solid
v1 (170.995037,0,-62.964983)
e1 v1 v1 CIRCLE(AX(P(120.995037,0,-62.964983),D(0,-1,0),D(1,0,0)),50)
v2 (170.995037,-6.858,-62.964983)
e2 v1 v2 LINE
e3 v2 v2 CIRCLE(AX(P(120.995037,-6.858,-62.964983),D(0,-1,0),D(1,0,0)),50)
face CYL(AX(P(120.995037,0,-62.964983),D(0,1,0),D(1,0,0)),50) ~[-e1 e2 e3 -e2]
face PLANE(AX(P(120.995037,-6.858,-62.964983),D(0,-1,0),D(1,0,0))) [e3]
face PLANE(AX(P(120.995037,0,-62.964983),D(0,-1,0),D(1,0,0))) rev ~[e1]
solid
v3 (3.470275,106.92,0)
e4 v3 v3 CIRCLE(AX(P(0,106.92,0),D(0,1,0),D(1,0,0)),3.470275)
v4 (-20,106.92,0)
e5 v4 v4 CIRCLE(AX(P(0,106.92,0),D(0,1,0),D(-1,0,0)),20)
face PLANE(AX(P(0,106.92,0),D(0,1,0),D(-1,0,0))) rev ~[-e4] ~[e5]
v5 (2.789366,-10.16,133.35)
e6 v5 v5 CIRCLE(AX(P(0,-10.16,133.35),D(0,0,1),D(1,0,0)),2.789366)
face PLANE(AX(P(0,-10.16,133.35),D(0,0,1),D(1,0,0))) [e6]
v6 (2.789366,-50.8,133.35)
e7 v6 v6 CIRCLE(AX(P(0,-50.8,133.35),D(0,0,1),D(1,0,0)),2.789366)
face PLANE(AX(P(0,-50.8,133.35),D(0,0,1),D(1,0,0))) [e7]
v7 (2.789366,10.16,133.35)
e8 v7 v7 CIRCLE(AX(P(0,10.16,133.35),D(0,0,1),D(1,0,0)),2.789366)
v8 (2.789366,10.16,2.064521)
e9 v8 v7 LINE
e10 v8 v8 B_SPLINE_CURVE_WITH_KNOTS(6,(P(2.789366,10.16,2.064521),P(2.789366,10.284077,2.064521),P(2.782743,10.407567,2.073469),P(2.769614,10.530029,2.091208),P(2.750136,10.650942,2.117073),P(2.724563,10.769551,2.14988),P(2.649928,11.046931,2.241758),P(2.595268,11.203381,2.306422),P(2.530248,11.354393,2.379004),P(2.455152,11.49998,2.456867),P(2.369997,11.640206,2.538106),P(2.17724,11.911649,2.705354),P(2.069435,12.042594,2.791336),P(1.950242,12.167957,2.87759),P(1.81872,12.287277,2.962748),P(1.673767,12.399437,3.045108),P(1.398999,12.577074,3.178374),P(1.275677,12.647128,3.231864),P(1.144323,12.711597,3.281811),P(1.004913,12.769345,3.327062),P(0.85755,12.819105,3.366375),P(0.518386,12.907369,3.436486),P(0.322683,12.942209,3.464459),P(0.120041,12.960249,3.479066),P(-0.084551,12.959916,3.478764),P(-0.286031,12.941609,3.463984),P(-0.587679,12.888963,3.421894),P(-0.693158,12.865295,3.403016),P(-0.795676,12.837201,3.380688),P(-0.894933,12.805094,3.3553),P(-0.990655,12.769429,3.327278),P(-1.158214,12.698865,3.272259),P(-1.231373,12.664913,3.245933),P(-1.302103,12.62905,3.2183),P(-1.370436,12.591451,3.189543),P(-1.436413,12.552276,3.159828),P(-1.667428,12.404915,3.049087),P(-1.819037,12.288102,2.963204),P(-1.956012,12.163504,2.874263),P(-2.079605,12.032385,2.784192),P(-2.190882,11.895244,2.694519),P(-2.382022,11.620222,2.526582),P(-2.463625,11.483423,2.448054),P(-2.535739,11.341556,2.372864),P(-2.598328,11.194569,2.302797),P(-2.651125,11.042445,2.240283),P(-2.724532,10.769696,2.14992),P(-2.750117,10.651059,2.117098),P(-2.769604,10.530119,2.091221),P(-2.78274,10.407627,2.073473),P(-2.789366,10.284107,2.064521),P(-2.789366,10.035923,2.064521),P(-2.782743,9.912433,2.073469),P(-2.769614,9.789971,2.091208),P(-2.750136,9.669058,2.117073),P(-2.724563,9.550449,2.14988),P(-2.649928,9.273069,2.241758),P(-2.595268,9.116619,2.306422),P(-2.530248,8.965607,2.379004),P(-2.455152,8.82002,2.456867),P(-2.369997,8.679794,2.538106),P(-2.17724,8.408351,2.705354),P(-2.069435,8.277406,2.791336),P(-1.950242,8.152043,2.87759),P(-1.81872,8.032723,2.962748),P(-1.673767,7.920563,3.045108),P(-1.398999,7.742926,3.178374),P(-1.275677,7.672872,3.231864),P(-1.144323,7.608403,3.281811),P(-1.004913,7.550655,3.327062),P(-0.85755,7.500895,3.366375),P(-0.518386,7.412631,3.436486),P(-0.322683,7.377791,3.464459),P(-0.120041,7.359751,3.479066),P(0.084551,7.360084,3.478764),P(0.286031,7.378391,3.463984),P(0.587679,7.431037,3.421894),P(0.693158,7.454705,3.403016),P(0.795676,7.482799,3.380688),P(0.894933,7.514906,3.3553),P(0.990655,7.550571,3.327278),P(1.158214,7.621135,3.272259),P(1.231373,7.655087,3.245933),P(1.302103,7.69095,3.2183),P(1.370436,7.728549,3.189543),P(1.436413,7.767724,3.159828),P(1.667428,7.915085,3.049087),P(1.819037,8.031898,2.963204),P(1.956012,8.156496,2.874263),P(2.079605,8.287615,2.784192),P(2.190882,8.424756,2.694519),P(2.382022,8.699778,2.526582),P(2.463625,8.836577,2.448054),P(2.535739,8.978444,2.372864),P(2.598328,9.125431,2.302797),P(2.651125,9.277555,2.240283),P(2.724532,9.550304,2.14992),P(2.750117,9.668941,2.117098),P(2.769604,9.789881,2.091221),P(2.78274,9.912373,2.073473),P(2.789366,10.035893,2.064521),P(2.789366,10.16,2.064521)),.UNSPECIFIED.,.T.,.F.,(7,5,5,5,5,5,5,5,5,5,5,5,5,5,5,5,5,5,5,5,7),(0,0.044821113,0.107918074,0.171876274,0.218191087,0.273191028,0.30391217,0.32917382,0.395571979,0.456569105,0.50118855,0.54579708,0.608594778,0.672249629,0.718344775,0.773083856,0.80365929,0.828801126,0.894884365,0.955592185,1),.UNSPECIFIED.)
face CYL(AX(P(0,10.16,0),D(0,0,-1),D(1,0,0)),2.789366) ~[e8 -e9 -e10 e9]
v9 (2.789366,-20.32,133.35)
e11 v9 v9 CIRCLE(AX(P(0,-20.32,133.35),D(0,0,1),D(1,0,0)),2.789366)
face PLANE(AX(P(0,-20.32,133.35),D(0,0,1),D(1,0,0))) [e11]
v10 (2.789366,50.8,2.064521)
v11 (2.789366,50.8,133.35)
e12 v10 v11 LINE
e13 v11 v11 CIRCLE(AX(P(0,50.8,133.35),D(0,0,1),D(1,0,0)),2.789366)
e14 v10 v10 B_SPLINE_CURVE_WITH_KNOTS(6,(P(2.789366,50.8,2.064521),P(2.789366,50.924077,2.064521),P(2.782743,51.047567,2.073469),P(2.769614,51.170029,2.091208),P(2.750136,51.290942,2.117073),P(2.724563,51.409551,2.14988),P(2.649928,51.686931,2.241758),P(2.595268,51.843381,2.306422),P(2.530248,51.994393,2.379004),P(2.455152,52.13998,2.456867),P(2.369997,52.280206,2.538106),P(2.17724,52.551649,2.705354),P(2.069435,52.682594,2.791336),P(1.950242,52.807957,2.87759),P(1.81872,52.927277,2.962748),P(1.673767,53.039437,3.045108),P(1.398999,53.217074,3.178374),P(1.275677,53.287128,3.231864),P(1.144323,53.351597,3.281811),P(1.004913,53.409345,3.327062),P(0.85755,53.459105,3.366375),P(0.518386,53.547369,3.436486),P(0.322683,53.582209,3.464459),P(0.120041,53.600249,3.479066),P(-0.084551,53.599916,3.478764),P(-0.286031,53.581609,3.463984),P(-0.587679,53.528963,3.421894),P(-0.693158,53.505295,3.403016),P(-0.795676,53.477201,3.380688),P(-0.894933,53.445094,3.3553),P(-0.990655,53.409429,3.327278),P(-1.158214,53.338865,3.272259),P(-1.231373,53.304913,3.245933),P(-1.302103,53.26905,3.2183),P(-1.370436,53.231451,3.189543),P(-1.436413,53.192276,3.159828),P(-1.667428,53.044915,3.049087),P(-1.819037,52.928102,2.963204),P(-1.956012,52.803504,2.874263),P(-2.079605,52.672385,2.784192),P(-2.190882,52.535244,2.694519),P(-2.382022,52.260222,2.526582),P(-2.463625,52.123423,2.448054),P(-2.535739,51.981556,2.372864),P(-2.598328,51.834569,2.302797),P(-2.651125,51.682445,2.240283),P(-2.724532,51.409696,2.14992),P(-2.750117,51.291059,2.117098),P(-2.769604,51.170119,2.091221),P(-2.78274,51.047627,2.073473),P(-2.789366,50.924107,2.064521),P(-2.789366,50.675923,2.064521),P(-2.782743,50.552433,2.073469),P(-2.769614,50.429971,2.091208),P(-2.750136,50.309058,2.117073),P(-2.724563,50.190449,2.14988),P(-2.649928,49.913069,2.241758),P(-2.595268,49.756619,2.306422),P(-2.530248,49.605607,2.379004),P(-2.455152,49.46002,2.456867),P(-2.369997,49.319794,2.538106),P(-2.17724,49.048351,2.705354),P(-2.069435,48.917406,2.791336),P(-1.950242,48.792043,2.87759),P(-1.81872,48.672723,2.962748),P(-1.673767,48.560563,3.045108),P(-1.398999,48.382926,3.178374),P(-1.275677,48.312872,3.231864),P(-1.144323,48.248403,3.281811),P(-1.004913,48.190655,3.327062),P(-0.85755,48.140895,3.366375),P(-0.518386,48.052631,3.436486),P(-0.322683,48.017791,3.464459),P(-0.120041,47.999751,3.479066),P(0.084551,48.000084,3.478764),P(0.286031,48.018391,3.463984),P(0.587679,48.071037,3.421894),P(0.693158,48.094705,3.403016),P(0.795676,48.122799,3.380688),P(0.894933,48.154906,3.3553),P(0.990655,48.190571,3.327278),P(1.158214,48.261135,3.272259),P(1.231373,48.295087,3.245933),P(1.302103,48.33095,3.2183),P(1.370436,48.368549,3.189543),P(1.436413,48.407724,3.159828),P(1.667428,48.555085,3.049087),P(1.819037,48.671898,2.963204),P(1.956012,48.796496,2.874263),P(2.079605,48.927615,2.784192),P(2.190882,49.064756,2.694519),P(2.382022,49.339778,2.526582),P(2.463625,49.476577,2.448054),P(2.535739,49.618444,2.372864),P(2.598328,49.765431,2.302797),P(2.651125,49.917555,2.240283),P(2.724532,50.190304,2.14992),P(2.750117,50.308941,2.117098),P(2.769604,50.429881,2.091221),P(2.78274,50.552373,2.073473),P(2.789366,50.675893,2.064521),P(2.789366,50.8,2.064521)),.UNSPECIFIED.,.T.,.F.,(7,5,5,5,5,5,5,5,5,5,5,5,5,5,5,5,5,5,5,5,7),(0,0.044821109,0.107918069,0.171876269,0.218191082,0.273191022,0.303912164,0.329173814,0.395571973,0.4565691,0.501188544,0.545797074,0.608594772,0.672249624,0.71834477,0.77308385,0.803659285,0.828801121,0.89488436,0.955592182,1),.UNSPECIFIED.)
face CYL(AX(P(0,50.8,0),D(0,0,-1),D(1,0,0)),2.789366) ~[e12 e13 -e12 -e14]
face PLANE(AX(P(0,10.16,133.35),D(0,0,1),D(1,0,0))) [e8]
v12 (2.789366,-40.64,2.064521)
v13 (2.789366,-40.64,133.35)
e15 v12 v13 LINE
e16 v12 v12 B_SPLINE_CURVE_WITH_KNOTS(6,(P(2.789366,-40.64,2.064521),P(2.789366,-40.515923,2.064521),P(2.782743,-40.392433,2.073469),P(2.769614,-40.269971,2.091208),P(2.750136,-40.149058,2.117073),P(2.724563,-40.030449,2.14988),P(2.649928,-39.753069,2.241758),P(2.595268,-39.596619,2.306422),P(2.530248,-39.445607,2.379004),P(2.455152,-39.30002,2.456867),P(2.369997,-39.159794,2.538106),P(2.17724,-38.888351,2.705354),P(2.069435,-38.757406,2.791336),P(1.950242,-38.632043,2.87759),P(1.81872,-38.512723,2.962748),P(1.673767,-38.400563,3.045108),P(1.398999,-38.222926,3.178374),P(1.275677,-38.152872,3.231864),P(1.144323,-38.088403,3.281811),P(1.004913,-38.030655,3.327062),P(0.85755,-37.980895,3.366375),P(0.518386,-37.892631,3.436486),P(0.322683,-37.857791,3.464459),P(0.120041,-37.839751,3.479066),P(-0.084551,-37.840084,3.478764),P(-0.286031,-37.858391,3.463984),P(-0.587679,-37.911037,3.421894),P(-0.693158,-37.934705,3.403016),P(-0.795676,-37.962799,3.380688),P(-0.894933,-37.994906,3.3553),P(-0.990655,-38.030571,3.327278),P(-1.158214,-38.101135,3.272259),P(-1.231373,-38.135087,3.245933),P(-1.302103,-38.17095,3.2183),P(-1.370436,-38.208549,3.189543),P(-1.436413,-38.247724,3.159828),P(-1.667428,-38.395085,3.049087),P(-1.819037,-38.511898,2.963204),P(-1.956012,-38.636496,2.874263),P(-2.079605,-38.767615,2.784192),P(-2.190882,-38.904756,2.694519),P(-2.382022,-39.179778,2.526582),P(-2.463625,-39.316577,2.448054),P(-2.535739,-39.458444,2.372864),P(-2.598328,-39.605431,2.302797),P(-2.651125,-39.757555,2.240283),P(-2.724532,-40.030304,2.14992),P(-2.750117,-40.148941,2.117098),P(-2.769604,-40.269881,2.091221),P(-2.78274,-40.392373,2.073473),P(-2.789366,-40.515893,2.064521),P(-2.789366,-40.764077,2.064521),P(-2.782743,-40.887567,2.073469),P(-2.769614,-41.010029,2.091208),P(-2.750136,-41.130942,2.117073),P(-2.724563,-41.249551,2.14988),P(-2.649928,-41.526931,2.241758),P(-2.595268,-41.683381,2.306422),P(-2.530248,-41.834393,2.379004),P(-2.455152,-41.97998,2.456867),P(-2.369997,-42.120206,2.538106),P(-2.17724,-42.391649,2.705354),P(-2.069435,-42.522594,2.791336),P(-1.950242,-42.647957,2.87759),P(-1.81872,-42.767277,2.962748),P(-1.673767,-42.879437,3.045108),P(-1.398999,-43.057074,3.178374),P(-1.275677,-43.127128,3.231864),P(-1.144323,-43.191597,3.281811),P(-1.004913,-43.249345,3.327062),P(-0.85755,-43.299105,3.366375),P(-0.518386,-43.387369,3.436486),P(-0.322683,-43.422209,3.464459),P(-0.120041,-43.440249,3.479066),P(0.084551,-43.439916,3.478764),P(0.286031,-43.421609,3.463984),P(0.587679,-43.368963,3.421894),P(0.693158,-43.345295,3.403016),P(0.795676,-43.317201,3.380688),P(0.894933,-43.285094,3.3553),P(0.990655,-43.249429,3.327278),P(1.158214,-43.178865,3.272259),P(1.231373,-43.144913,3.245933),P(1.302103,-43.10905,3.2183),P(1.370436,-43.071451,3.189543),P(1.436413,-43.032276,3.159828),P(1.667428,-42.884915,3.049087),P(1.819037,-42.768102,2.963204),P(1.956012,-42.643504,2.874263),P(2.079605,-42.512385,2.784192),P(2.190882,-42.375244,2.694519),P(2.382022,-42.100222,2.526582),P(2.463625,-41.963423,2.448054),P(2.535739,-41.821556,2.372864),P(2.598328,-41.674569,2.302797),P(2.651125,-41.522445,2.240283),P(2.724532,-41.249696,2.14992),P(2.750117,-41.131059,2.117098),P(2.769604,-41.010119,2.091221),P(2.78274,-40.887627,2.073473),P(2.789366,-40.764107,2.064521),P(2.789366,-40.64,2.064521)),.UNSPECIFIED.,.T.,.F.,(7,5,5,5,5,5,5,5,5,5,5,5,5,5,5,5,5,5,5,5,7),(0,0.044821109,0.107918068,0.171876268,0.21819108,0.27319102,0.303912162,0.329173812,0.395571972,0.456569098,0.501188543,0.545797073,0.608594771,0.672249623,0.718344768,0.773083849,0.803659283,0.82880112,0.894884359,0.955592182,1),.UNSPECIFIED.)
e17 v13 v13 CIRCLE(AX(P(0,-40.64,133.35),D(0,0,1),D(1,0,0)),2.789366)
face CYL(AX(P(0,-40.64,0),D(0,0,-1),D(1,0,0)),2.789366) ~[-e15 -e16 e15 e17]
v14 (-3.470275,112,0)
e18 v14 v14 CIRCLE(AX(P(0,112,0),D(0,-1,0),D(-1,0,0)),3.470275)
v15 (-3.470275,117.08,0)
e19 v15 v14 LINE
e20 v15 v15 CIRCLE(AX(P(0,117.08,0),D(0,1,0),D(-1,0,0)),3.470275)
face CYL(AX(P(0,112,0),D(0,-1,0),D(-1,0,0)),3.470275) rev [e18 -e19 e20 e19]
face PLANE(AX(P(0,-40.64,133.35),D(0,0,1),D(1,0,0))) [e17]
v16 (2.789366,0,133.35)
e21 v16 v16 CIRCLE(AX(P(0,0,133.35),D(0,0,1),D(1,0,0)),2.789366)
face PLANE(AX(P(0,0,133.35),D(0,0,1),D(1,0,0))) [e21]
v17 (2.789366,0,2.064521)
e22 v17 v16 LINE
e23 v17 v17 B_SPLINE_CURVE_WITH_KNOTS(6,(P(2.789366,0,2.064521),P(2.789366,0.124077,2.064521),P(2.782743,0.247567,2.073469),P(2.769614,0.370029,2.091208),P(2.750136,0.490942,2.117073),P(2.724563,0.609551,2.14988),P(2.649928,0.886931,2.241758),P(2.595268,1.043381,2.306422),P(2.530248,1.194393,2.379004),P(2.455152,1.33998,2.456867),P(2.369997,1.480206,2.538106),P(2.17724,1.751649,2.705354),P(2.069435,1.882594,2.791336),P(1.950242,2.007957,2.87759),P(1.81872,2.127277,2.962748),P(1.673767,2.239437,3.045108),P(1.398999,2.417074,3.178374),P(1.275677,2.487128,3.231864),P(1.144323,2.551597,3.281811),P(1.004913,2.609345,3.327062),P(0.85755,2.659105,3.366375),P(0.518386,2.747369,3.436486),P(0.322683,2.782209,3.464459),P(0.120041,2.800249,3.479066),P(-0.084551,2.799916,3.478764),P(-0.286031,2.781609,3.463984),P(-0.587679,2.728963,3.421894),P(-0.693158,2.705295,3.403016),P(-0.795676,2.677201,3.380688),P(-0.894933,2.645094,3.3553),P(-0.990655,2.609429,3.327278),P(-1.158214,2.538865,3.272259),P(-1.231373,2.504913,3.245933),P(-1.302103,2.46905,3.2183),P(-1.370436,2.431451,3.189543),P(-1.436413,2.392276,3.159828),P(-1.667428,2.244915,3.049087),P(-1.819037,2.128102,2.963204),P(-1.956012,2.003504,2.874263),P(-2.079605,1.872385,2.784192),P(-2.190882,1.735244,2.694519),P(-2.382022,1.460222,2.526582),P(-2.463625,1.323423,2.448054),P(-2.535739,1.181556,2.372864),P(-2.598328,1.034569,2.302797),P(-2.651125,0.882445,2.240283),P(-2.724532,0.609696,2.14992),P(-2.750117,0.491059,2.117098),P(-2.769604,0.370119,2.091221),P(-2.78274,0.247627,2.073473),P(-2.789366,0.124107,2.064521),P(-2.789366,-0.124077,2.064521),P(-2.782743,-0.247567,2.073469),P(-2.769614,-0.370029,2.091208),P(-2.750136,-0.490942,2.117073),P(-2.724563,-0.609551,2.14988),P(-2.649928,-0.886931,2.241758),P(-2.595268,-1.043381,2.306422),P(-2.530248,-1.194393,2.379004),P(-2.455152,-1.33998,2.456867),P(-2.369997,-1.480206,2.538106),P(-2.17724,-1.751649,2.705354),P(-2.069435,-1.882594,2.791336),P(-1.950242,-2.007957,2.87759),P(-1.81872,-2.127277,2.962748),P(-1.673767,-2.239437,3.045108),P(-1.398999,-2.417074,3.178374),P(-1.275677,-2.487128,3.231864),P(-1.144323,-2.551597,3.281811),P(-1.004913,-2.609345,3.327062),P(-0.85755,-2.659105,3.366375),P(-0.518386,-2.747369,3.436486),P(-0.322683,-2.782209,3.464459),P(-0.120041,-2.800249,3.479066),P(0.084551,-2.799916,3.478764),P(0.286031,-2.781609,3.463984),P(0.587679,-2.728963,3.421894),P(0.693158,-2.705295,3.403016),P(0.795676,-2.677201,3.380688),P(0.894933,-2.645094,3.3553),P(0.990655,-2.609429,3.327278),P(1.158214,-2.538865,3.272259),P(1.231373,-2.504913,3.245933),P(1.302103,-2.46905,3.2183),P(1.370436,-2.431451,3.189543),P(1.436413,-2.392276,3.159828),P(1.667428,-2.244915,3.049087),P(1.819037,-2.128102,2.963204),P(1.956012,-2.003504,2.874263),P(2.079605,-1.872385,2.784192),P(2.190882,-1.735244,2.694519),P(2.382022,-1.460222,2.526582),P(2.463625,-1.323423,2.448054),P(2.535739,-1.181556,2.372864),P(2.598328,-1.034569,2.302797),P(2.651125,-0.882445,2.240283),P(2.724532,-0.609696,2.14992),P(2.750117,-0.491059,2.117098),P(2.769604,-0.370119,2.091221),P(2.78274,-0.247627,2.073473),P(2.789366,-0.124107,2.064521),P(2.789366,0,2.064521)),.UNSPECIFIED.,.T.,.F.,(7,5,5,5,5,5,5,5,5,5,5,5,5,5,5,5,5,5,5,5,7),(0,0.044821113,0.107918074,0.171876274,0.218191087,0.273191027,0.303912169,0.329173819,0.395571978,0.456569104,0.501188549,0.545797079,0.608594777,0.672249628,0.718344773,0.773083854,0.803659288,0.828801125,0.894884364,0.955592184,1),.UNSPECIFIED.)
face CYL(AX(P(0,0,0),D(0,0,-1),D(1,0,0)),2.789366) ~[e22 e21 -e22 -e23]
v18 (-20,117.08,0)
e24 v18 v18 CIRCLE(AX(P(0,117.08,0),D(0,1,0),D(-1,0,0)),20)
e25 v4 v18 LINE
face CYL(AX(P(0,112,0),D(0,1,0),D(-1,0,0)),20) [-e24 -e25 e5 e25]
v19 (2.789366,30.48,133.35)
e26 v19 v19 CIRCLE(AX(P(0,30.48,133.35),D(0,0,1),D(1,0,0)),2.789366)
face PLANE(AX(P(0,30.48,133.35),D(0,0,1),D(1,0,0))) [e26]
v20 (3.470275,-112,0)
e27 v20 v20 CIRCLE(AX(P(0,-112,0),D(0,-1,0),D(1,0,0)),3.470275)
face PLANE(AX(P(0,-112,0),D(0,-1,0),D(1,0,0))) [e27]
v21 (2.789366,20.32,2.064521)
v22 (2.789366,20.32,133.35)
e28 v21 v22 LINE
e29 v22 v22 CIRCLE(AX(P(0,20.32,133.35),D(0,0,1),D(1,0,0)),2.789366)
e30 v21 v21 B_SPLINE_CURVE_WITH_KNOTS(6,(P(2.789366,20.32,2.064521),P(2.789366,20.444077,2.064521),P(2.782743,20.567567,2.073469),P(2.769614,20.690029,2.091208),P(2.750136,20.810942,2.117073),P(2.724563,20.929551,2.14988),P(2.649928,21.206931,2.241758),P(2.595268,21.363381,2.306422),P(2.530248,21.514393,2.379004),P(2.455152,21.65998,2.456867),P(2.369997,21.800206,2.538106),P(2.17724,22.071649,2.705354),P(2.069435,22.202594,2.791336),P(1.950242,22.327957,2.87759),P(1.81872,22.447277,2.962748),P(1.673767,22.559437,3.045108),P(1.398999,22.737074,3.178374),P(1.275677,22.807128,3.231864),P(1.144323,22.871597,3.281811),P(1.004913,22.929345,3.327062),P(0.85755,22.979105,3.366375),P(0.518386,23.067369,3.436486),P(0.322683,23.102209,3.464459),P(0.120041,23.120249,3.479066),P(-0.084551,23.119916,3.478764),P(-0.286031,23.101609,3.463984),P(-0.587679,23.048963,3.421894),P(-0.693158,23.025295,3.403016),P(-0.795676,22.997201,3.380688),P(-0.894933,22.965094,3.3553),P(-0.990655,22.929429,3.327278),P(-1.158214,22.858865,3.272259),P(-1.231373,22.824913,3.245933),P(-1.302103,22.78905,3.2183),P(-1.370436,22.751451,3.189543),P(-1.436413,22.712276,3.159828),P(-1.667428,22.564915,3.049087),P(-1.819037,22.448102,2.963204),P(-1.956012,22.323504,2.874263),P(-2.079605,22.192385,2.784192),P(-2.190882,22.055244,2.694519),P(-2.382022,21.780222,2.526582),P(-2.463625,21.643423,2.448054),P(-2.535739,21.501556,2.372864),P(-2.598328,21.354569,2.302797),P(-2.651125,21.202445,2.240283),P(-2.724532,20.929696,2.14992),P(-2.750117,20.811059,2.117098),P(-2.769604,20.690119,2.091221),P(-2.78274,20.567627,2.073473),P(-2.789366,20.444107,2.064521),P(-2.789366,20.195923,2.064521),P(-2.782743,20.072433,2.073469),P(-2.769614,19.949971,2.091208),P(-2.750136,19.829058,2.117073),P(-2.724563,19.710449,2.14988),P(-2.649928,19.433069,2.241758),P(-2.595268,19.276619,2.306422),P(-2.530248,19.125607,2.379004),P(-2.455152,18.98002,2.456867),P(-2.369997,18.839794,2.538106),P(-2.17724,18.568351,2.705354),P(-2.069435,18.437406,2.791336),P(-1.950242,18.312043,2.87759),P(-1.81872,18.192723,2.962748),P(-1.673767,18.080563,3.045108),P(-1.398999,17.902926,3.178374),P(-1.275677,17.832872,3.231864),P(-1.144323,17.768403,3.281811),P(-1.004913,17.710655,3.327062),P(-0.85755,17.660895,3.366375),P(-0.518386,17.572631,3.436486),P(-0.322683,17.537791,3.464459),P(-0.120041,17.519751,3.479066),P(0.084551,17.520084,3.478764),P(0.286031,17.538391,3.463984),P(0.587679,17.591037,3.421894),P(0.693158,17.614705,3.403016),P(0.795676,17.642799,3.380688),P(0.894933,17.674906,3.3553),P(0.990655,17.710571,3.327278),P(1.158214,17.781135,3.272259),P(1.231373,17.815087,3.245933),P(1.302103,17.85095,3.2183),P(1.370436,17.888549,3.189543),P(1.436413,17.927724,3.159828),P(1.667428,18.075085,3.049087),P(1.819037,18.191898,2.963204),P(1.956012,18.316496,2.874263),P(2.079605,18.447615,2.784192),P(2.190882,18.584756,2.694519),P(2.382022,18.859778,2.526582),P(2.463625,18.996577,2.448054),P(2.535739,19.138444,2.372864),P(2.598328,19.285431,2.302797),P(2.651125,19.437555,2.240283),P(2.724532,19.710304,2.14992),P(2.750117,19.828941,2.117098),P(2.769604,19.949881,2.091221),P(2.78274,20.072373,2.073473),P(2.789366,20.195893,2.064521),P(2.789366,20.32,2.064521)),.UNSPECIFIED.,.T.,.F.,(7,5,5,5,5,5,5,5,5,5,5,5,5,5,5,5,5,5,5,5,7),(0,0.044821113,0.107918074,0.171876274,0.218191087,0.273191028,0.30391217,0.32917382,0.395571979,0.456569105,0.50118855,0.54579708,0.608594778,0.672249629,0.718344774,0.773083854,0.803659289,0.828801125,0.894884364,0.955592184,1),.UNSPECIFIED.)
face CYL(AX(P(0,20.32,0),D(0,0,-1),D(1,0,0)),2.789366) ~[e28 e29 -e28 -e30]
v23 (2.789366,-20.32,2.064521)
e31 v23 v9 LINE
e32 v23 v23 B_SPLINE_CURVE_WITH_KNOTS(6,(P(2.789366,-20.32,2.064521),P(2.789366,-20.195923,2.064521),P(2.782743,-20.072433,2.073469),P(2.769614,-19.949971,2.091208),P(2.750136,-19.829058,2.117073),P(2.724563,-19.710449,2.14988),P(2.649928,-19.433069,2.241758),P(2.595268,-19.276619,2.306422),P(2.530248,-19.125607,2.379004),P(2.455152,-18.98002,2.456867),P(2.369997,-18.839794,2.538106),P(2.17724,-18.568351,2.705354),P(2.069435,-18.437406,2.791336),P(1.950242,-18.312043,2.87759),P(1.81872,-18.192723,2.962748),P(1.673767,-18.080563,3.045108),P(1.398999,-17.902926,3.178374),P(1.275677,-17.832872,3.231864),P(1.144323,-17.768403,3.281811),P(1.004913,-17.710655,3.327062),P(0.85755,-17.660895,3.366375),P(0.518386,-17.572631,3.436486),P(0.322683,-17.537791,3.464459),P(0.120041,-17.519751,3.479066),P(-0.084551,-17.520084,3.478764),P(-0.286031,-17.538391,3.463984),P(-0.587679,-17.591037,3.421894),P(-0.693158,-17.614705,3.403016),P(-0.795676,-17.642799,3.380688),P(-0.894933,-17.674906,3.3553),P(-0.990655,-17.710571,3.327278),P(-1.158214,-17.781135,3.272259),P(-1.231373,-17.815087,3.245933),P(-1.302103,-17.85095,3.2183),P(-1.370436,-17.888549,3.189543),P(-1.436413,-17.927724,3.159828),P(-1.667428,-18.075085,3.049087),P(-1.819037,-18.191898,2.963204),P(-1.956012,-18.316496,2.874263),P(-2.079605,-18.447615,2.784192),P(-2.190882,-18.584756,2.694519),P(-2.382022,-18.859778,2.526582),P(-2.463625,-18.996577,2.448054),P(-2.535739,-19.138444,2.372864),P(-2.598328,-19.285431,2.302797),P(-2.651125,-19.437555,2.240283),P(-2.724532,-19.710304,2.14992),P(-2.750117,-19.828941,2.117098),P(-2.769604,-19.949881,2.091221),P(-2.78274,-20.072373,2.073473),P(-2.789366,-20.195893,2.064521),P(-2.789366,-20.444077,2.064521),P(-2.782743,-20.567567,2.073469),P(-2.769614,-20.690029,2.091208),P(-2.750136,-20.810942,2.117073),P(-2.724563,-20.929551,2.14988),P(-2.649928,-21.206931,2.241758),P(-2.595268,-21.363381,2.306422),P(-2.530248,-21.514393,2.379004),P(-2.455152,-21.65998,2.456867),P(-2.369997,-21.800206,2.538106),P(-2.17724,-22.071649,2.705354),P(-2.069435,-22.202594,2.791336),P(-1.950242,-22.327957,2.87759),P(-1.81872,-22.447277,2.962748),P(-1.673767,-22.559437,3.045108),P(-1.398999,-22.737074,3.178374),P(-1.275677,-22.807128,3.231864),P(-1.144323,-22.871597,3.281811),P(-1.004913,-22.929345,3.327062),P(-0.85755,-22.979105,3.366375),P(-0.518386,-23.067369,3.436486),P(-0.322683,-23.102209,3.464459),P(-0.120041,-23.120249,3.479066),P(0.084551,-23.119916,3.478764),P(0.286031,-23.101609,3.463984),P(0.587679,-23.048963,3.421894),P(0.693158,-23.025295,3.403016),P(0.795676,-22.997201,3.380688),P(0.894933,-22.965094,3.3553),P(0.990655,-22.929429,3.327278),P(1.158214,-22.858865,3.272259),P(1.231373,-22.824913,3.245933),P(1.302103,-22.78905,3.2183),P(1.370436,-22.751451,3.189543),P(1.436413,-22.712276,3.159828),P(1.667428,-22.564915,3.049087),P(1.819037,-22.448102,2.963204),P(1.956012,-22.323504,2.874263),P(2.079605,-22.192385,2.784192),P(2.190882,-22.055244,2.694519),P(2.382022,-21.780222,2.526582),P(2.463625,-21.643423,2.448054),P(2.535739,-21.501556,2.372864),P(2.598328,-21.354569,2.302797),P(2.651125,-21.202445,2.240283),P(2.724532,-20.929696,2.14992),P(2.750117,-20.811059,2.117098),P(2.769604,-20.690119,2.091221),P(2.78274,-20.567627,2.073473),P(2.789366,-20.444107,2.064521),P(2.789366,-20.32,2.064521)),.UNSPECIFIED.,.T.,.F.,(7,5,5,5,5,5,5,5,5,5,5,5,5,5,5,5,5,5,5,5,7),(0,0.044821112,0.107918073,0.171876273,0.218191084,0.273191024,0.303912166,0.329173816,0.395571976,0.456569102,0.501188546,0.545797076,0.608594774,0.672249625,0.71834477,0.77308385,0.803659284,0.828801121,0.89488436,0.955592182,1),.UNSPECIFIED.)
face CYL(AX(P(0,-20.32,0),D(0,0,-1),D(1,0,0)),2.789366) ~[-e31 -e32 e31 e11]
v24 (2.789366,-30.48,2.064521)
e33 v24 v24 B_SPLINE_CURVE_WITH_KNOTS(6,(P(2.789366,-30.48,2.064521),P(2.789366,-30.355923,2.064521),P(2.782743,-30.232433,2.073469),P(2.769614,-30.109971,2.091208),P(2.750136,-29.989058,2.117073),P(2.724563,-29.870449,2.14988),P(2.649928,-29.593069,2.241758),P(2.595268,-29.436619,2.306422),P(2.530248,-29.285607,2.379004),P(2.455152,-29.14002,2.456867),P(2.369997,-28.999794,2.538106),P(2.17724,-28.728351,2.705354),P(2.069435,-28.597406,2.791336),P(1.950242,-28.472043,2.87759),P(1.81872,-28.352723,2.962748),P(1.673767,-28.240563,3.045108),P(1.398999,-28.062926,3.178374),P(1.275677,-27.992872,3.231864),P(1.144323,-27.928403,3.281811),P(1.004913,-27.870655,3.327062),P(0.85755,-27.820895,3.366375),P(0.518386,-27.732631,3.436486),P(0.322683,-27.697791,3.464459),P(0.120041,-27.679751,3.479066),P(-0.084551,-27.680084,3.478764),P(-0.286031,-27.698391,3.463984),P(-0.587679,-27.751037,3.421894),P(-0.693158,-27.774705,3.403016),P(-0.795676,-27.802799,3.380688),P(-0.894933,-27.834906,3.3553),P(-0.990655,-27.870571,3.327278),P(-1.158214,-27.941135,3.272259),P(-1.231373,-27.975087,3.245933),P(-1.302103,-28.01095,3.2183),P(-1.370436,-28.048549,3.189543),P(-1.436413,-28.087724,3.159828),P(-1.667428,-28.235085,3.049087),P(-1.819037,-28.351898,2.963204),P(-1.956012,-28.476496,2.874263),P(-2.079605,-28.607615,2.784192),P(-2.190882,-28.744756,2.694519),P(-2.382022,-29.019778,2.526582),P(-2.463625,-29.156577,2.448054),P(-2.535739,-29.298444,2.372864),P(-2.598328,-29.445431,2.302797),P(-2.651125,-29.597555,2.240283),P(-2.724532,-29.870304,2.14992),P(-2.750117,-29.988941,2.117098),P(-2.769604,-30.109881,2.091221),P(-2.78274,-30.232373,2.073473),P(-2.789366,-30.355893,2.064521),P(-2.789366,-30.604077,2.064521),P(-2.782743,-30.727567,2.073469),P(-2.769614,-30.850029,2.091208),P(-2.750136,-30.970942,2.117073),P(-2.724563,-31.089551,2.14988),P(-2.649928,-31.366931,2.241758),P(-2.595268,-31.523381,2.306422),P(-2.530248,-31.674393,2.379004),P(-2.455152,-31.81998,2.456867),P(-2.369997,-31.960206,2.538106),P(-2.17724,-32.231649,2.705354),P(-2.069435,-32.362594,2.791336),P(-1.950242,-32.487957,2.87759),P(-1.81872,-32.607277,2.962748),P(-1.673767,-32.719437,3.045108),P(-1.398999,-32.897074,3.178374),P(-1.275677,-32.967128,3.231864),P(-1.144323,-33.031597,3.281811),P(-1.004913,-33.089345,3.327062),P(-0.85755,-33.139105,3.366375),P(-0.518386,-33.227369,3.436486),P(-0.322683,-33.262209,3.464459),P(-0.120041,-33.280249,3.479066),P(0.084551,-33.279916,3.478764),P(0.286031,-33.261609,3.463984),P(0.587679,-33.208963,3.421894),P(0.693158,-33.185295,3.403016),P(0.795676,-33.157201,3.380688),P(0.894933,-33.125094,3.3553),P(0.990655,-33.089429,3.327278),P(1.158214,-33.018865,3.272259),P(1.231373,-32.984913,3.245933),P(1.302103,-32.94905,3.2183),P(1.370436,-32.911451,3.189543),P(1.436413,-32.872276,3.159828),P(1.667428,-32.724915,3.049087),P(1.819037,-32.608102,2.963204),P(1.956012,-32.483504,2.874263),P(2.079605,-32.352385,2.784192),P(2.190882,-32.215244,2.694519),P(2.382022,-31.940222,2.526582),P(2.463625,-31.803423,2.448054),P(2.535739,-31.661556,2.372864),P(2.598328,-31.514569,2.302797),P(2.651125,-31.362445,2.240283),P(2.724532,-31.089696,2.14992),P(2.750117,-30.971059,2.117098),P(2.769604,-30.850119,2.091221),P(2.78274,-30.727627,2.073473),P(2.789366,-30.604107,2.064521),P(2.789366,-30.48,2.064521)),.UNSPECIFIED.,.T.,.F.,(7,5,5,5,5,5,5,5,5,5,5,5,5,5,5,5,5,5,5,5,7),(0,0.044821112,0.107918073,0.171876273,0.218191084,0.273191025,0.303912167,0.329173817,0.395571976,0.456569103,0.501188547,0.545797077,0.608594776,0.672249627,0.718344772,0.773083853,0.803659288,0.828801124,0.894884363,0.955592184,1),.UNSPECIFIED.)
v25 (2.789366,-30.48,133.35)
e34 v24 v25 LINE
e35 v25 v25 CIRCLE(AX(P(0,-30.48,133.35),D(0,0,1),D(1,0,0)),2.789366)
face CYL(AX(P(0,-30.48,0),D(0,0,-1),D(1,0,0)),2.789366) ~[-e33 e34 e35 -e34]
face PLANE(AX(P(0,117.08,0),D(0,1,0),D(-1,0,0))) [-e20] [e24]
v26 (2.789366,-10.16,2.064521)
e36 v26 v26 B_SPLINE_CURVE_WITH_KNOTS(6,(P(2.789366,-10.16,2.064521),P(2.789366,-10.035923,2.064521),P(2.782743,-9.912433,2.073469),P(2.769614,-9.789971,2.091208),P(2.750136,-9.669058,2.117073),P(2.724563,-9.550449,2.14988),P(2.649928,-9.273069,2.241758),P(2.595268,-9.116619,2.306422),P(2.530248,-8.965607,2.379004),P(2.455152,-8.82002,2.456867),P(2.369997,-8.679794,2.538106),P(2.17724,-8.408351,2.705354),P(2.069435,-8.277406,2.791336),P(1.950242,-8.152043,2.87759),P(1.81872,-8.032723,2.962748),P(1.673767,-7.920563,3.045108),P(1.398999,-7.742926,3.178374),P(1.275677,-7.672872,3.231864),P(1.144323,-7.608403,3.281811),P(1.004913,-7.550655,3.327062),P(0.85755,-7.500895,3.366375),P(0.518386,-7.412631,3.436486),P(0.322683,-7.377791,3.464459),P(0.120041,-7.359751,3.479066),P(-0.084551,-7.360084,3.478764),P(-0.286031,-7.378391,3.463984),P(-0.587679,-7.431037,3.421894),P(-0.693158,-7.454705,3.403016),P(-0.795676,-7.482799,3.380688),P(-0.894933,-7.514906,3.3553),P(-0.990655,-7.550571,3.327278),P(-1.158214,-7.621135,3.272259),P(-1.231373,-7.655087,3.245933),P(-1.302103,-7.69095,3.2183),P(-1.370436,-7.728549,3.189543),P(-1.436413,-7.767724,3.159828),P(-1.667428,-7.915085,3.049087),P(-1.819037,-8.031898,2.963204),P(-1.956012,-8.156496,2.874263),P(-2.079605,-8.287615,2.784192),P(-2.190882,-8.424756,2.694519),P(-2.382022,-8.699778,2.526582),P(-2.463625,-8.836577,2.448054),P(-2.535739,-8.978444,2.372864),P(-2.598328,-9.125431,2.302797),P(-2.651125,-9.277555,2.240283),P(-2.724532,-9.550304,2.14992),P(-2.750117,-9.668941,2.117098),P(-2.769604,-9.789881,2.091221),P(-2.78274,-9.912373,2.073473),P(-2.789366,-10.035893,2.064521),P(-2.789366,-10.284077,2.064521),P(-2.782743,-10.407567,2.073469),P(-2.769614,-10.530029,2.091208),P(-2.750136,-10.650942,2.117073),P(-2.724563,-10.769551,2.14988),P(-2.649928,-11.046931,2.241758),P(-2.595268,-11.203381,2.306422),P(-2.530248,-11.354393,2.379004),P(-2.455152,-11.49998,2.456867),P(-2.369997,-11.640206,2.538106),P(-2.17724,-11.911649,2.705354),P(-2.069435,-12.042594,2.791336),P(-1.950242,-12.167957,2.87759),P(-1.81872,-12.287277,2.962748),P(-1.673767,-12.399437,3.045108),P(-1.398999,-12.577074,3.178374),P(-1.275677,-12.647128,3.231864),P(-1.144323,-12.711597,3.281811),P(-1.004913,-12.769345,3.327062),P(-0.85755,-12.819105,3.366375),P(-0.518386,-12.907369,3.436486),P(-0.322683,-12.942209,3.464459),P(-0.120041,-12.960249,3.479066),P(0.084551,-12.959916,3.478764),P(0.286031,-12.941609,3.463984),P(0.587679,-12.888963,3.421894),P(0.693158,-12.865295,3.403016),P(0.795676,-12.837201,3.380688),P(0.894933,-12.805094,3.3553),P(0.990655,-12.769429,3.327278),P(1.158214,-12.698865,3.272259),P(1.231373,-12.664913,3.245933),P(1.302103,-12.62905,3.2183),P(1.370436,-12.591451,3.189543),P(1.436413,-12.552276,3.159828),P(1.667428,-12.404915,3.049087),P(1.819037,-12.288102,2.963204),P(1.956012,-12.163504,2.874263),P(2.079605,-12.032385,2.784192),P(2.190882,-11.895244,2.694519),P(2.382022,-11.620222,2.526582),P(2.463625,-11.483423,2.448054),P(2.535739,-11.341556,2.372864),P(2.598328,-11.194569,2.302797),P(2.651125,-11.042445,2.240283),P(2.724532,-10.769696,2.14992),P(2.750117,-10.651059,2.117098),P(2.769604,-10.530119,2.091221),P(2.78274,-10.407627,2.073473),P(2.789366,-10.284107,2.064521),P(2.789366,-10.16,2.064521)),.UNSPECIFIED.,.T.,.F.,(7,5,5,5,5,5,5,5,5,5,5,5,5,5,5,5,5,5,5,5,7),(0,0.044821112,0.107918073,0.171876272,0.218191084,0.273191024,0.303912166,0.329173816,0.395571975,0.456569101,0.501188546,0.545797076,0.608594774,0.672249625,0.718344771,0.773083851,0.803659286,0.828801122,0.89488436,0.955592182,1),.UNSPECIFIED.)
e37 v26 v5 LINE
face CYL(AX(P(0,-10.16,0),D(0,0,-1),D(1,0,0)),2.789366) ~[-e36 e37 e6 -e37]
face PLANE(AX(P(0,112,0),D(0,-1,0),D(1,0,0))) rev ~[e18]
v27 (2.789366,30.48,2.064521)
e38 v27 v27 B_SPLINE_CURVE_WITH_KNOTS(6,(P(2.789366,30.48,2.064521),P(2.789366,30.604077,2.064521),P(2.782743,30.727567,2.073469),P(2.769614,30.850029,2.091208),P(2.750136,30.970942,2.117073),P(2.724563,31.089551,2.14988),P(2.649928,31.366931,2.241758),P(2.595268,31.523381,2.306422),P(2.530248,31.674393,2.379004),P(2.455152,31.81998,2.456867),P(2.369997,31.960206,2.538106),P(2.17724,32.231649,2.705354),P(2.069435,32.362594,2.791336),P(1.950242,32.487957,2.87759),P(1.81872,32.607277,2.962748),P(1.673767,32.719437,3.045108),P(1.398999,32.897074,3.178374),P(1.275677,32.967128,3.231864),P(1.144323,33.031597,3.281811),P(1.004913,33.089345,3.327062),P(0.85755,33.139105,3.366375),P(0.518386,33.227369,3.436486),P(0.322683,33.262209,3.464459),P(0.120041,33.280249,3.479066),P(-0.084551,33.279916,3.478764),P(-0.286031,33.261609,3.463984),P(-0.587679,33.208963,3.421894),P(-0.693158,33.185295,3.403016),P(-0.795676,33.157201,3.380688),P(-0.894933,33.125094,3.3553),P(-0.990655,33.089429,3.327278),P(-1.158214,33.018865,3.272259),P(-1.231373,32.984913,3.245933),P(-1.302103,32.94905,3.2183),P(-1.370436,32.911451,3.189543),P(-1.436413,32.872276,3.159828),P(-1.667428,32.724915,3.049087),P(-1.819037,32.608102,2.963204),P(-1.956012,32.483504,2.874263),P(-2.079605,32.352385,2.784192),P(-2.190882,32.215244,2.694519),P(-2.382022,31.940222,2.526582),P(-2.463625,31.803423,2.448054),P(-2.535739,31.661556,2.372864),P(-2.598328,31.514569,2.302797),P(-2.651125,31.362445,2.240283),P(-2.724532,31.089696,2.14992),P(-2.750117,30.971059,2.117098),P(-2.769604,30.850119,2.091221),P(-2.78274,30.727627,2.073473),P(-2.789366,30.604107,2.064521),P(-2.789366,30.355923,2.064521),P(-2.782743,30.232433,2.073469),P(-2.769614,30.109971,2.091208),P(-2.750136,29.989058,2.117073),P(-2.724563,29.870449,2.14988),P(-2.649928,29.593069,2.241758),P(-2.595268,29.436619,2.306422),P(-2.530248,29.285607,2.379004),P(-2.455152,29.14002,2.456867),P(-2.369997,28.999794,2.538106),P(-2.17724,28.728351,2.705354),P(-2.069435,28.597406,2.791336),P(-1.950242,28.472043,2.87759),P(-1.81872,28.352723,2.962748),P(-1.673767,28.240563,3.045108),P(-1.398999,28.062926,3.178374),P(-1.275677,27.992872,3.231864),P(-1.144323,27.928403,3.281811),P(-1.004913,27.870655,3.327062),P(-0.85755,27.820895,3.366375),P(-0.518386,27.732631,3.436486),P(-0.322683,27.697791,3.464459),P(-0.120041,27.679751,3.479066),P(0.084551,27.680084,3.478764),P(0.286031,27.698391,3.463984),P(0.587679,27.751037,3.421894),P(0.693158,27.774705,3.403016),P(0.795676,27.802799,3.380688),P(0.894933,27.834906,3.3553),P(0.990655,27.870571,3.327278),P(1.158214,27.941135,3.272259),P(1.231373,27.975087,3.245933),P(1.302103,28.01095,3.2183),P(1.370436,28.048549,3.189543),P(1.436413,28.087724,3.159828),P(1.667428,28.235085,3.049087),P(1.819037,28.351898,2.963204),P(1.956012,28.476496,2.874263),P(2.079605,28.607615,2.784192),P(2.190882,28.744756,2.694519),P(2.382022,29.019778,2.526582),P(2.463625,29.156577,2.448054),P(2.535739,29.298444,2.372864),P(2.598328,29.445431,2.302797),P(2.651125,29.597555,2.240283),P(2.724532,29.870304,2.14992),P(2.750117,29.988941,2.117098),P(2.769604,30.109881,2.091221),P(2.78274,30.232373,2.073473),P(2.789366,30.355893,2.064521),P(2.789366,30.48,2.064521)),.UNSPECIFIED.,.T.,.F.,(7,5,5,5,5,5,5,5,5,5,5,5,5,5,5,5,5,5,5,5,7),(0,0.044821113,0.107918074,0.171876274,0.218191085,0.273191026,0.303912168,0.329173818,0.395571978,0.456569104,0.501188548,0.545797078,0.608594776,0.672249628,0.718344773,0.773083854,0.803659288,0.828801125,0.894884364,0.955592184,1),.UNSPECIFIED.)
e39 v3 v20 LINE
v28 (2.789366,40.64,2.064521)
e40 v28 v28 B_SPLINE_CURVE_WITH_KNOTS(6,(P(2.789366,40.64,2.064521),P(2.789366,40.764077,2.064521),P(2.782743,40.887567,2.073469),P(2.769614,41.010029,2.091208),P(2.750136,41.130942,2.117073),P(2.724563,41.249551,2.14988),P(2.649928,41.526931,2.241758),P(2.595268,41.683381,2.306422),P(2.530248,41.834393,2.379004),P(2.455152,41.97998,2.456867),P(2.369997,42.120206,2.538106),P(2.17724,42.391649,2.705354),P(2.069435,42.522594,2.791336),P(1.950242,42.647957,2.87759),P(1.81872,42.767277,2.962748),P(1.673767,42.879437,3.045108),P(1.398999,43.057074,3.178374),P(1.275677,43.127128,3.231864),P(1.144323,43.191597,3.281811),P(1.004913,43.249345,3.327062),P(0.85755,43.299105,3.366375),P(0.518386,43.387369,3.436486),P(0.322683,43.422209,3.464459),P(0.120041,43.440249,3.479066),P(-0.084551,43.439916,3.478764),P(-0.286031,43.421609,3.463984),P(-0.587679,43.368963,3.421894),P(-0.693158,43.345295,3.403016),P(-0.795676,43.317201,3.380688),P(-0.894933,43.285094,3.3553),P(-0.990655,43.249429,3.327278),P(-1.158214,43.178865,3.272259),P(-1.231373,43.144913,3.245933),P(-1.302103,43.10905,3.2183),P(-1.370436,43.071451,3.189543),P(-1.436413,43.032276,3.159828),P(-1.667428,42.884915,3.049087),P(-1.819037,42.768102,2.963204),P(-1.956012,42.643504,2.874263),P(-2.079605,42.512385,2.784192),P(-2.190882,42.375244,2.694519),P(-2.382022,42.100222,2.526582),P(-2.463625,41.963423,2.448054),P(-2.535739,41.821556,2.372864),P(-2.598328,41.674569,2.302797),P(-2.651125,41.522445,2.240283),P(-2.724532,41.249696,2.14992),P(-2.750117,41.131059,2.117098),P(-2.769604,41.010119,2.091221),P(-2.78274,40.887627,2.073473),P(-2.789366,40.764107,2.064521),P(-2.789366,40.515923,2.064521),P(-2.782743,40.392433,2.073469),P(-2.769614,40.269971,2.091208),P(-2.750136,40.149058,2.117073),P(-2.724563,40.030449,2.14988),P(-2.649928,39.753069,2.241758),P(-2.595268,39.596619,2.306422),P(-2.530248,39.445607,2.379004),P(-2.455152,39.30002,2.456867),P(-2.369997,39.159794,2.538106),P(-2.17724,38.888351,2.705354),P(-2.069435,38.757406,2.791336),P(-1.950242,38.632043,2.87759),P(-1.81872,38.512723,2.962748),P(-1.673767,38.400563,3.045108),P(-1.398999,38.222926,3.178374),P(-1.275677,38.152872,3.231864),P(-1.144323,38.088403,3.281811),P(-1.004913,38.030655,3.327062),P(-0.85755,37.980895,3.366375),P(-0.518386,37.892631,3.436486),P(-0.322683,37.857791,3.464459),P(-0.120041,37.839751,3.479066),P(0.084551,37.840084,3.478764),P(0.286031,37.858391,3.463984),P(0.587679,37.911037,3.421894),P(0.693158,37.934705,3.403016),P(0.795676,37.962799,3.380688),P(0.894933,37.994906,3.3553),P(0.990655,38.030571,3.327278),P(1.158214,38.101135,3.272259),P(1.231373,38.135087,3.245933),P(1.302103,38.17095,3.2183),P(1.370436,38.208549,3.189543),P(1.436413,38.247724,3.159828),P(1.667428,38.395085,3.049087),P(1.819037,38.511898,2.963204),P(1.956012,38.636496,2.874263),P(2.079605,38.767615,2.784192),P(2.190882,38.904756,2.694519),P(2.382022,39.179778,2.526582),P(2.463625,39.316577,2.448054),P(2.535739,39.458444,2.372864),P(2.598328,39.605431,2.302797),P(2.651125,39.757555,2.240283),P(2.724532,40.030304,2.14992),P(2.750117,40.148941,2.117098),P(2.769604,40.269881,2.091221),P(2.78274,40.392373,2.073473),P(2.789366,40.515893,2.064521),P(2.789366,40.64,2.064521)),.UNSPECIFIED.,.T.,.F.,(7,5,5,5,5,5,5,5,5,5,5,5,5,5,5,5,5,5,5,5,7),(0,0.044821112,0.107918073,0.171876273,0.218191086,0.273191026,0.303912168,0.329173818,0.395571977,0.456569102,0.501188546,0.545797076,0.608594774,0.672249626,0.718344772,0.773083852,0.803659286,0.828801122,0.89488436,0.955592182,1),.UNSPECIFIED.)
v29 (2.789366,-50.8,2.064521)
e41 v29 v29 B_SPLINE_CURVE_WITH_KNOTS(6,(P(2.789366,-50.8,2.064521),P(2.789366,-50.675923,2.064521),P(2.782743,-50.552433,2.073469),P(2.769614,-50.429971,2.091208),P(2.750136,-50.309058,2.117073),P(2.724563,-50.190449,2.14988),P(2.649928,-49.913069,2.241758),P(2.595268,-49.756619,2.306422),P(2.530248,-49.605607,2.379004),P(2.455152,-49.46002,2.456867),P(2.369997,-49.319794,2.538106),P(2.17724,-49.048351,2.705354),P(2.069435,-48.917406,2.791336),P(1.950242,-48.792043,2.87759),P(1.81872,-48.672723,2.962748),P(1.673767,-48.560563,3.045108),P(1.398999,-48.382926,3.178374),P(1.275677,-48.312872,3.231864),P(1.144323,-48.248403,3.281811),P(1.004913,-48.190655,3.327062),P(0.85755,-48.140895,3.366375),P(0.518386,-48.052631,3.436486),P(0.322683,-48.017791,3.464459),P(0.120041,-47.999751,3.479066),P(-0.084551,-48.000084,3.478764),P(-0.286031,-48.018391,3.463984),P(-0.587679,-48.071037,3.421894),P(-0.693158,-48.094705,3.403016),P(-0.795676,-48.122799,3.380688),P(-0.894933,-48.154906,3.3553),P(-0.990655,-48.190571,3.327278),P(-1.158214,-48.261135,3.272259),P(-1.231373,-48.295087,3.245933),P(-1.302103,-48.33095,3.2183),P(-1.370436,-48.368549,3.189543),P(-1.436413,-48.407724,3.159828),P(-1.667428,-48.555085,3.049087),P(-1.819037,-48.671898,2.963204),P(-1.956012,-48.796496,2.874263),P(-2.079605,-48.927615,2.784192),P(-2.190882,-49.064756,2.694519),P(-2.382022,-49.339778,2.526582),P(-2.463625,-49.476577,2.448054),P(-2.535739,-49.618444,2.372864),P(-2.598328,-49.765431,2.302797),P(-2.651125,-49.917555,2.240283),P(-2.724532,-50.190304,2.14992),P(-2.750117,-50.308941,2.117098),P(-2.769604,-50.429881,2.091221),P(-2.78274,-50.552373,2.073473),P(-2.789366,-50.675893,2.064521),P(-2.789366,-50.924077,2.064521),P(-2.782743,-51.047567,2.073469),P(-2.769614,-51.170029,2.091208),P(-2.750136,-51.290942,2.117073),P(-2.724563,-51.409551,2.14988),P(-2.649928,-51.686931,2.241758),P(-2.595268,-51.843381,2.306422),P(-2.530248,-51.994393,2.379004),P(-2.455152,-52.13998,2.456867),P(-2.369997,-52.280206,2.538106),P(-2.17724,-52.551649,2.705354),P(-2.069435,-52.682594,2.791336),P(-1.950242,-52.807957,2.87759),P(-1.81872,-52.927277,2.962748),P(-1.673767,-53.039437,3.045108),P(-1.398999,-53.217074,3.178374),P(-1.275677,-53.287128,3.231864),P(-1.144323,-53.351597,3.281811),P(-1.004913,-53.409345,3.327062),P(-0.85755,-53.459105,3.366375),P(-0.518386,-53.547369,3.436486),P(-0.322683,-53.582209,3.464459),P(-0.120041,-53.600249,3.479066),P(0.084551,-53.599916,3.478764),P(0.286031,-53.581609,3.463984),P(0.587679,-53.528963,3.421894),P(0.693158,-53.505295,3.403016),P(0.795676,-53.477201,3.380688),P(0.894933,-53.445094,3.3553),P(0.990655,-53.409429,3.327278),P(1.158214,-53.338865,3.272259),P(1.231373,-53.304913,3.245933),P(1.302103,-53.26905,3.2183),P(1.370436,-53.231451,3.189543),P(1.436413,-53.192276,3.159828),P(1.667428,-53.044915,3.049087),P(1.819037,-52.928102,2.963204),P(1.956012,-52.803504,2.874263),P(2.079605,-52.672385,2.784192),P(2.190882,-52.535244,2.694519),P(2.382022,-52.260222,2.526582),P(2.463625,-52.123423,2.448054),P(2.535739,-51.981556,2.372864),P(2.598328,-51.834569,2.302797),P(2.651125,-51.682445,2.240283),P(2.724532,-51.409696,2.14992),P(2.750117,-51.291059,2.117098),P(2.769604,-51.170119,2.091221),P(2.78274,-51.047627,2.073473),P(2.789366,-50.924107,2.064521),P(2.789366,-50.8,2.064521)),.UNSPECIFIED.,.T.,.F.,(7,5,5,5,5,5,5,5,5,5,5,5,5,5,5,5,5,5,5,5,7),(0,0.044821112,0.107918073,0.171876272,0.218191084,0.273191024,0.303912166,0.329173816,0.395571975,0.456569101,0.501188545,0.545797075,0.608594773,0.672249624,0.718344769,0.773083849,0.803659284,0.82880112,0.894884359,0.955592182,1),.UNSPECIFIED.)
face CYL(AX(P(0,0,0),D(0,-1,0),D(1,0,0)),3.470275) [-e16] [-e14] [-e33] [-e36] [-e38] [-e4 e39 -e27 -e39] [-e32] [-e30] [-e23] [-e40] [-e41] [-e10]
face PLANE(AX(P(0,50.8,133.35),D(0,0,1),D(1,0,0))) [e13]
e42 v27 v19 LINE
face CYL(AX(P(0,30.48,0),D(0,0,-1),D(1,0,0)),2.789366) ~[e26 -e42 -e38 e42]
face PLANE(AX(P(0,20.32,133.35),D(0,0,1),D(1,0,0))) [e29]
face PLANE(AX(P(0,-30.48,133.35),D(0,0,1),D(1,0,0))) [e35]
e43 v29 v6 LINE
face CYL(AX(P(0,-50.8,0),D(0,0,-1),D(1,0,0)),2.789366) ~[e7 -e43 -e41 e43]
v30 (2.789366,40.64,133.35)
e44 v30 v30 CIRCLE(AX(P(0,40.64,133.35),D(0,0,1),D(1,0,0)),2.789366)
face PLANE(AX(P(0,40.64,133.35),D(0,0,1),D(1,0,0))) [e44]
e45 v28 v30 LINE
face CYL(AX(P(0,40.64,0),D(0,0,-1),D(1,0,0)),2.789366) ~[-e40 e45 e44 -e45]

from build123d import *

# Parameters (mm, degrees)
F0_R     = 3.470275
F1_DEPTH = 112
F2_R     = 2.789366
F3_DEPTH = 133.35
F4_R     = 20
F4_R_2   = 3.470275
F5_DEPTH = 5.08
F6_R     = 50
F7_DEPTH = 6.858


with BuildPart() as f1:
    # F0 (on Front) → F1 (new body, symmetric)
    with BuildSketch(Plane.XZ):
        Circle(F0_R)
    extrude(amount=F1_DEPTH, both=True)

    # F2 (on Top) → F3 (join)
    with BuildSketch(Plane.XY):
        Circle(F2_R)
        with Locations((0, 10.16)):
            Circle(F2_R)
        with Locations((0, 20.32)):
            Circle(F2_R)
        with Locations((0, 30.48)):
            Circle(F2_R)
        with Locations((0, 40.64)):
            Circle(F2_R)
        with Locations((0, 50.8)):
            Circle(F2_R)
        with Locations((0, -10.16)):
            Circle(F2_R)
        with Locations((0, -20.32)):
            Circle(F2_R)
        with Locations((0, -30.48)):
            Circle(F2_R)
        with Locations((0, -40.64)):
            Circle(F2_R)
        with Locations((0, -50.8)):
            Circle(F2_R)
    extrude(amount=F3_DEPTH)

    # F4 (on face) → F5 (join, symmetric)
    with BuildSketch(Plane(origin=(0, 112, 0), x_dir=(-1, 0, 0), z_dir=(0, 1, 0))):
        Circle(F4_R)
        Circle(F4_R_2, mode=Mode.SUBTRACT)
    extrude(amount=F5_DEPTH, both=True)


with BuildPart() as f7:
    # F6 (on Front) → F7 (new body)
    with BuildSketch(Plane.XZ):
        with Locations((120.995037, -62.964983)):
            Circle(F6_R)
    extrude(amount=F7_DEPTH)


solid = Compound([f1.part, f7.part])
